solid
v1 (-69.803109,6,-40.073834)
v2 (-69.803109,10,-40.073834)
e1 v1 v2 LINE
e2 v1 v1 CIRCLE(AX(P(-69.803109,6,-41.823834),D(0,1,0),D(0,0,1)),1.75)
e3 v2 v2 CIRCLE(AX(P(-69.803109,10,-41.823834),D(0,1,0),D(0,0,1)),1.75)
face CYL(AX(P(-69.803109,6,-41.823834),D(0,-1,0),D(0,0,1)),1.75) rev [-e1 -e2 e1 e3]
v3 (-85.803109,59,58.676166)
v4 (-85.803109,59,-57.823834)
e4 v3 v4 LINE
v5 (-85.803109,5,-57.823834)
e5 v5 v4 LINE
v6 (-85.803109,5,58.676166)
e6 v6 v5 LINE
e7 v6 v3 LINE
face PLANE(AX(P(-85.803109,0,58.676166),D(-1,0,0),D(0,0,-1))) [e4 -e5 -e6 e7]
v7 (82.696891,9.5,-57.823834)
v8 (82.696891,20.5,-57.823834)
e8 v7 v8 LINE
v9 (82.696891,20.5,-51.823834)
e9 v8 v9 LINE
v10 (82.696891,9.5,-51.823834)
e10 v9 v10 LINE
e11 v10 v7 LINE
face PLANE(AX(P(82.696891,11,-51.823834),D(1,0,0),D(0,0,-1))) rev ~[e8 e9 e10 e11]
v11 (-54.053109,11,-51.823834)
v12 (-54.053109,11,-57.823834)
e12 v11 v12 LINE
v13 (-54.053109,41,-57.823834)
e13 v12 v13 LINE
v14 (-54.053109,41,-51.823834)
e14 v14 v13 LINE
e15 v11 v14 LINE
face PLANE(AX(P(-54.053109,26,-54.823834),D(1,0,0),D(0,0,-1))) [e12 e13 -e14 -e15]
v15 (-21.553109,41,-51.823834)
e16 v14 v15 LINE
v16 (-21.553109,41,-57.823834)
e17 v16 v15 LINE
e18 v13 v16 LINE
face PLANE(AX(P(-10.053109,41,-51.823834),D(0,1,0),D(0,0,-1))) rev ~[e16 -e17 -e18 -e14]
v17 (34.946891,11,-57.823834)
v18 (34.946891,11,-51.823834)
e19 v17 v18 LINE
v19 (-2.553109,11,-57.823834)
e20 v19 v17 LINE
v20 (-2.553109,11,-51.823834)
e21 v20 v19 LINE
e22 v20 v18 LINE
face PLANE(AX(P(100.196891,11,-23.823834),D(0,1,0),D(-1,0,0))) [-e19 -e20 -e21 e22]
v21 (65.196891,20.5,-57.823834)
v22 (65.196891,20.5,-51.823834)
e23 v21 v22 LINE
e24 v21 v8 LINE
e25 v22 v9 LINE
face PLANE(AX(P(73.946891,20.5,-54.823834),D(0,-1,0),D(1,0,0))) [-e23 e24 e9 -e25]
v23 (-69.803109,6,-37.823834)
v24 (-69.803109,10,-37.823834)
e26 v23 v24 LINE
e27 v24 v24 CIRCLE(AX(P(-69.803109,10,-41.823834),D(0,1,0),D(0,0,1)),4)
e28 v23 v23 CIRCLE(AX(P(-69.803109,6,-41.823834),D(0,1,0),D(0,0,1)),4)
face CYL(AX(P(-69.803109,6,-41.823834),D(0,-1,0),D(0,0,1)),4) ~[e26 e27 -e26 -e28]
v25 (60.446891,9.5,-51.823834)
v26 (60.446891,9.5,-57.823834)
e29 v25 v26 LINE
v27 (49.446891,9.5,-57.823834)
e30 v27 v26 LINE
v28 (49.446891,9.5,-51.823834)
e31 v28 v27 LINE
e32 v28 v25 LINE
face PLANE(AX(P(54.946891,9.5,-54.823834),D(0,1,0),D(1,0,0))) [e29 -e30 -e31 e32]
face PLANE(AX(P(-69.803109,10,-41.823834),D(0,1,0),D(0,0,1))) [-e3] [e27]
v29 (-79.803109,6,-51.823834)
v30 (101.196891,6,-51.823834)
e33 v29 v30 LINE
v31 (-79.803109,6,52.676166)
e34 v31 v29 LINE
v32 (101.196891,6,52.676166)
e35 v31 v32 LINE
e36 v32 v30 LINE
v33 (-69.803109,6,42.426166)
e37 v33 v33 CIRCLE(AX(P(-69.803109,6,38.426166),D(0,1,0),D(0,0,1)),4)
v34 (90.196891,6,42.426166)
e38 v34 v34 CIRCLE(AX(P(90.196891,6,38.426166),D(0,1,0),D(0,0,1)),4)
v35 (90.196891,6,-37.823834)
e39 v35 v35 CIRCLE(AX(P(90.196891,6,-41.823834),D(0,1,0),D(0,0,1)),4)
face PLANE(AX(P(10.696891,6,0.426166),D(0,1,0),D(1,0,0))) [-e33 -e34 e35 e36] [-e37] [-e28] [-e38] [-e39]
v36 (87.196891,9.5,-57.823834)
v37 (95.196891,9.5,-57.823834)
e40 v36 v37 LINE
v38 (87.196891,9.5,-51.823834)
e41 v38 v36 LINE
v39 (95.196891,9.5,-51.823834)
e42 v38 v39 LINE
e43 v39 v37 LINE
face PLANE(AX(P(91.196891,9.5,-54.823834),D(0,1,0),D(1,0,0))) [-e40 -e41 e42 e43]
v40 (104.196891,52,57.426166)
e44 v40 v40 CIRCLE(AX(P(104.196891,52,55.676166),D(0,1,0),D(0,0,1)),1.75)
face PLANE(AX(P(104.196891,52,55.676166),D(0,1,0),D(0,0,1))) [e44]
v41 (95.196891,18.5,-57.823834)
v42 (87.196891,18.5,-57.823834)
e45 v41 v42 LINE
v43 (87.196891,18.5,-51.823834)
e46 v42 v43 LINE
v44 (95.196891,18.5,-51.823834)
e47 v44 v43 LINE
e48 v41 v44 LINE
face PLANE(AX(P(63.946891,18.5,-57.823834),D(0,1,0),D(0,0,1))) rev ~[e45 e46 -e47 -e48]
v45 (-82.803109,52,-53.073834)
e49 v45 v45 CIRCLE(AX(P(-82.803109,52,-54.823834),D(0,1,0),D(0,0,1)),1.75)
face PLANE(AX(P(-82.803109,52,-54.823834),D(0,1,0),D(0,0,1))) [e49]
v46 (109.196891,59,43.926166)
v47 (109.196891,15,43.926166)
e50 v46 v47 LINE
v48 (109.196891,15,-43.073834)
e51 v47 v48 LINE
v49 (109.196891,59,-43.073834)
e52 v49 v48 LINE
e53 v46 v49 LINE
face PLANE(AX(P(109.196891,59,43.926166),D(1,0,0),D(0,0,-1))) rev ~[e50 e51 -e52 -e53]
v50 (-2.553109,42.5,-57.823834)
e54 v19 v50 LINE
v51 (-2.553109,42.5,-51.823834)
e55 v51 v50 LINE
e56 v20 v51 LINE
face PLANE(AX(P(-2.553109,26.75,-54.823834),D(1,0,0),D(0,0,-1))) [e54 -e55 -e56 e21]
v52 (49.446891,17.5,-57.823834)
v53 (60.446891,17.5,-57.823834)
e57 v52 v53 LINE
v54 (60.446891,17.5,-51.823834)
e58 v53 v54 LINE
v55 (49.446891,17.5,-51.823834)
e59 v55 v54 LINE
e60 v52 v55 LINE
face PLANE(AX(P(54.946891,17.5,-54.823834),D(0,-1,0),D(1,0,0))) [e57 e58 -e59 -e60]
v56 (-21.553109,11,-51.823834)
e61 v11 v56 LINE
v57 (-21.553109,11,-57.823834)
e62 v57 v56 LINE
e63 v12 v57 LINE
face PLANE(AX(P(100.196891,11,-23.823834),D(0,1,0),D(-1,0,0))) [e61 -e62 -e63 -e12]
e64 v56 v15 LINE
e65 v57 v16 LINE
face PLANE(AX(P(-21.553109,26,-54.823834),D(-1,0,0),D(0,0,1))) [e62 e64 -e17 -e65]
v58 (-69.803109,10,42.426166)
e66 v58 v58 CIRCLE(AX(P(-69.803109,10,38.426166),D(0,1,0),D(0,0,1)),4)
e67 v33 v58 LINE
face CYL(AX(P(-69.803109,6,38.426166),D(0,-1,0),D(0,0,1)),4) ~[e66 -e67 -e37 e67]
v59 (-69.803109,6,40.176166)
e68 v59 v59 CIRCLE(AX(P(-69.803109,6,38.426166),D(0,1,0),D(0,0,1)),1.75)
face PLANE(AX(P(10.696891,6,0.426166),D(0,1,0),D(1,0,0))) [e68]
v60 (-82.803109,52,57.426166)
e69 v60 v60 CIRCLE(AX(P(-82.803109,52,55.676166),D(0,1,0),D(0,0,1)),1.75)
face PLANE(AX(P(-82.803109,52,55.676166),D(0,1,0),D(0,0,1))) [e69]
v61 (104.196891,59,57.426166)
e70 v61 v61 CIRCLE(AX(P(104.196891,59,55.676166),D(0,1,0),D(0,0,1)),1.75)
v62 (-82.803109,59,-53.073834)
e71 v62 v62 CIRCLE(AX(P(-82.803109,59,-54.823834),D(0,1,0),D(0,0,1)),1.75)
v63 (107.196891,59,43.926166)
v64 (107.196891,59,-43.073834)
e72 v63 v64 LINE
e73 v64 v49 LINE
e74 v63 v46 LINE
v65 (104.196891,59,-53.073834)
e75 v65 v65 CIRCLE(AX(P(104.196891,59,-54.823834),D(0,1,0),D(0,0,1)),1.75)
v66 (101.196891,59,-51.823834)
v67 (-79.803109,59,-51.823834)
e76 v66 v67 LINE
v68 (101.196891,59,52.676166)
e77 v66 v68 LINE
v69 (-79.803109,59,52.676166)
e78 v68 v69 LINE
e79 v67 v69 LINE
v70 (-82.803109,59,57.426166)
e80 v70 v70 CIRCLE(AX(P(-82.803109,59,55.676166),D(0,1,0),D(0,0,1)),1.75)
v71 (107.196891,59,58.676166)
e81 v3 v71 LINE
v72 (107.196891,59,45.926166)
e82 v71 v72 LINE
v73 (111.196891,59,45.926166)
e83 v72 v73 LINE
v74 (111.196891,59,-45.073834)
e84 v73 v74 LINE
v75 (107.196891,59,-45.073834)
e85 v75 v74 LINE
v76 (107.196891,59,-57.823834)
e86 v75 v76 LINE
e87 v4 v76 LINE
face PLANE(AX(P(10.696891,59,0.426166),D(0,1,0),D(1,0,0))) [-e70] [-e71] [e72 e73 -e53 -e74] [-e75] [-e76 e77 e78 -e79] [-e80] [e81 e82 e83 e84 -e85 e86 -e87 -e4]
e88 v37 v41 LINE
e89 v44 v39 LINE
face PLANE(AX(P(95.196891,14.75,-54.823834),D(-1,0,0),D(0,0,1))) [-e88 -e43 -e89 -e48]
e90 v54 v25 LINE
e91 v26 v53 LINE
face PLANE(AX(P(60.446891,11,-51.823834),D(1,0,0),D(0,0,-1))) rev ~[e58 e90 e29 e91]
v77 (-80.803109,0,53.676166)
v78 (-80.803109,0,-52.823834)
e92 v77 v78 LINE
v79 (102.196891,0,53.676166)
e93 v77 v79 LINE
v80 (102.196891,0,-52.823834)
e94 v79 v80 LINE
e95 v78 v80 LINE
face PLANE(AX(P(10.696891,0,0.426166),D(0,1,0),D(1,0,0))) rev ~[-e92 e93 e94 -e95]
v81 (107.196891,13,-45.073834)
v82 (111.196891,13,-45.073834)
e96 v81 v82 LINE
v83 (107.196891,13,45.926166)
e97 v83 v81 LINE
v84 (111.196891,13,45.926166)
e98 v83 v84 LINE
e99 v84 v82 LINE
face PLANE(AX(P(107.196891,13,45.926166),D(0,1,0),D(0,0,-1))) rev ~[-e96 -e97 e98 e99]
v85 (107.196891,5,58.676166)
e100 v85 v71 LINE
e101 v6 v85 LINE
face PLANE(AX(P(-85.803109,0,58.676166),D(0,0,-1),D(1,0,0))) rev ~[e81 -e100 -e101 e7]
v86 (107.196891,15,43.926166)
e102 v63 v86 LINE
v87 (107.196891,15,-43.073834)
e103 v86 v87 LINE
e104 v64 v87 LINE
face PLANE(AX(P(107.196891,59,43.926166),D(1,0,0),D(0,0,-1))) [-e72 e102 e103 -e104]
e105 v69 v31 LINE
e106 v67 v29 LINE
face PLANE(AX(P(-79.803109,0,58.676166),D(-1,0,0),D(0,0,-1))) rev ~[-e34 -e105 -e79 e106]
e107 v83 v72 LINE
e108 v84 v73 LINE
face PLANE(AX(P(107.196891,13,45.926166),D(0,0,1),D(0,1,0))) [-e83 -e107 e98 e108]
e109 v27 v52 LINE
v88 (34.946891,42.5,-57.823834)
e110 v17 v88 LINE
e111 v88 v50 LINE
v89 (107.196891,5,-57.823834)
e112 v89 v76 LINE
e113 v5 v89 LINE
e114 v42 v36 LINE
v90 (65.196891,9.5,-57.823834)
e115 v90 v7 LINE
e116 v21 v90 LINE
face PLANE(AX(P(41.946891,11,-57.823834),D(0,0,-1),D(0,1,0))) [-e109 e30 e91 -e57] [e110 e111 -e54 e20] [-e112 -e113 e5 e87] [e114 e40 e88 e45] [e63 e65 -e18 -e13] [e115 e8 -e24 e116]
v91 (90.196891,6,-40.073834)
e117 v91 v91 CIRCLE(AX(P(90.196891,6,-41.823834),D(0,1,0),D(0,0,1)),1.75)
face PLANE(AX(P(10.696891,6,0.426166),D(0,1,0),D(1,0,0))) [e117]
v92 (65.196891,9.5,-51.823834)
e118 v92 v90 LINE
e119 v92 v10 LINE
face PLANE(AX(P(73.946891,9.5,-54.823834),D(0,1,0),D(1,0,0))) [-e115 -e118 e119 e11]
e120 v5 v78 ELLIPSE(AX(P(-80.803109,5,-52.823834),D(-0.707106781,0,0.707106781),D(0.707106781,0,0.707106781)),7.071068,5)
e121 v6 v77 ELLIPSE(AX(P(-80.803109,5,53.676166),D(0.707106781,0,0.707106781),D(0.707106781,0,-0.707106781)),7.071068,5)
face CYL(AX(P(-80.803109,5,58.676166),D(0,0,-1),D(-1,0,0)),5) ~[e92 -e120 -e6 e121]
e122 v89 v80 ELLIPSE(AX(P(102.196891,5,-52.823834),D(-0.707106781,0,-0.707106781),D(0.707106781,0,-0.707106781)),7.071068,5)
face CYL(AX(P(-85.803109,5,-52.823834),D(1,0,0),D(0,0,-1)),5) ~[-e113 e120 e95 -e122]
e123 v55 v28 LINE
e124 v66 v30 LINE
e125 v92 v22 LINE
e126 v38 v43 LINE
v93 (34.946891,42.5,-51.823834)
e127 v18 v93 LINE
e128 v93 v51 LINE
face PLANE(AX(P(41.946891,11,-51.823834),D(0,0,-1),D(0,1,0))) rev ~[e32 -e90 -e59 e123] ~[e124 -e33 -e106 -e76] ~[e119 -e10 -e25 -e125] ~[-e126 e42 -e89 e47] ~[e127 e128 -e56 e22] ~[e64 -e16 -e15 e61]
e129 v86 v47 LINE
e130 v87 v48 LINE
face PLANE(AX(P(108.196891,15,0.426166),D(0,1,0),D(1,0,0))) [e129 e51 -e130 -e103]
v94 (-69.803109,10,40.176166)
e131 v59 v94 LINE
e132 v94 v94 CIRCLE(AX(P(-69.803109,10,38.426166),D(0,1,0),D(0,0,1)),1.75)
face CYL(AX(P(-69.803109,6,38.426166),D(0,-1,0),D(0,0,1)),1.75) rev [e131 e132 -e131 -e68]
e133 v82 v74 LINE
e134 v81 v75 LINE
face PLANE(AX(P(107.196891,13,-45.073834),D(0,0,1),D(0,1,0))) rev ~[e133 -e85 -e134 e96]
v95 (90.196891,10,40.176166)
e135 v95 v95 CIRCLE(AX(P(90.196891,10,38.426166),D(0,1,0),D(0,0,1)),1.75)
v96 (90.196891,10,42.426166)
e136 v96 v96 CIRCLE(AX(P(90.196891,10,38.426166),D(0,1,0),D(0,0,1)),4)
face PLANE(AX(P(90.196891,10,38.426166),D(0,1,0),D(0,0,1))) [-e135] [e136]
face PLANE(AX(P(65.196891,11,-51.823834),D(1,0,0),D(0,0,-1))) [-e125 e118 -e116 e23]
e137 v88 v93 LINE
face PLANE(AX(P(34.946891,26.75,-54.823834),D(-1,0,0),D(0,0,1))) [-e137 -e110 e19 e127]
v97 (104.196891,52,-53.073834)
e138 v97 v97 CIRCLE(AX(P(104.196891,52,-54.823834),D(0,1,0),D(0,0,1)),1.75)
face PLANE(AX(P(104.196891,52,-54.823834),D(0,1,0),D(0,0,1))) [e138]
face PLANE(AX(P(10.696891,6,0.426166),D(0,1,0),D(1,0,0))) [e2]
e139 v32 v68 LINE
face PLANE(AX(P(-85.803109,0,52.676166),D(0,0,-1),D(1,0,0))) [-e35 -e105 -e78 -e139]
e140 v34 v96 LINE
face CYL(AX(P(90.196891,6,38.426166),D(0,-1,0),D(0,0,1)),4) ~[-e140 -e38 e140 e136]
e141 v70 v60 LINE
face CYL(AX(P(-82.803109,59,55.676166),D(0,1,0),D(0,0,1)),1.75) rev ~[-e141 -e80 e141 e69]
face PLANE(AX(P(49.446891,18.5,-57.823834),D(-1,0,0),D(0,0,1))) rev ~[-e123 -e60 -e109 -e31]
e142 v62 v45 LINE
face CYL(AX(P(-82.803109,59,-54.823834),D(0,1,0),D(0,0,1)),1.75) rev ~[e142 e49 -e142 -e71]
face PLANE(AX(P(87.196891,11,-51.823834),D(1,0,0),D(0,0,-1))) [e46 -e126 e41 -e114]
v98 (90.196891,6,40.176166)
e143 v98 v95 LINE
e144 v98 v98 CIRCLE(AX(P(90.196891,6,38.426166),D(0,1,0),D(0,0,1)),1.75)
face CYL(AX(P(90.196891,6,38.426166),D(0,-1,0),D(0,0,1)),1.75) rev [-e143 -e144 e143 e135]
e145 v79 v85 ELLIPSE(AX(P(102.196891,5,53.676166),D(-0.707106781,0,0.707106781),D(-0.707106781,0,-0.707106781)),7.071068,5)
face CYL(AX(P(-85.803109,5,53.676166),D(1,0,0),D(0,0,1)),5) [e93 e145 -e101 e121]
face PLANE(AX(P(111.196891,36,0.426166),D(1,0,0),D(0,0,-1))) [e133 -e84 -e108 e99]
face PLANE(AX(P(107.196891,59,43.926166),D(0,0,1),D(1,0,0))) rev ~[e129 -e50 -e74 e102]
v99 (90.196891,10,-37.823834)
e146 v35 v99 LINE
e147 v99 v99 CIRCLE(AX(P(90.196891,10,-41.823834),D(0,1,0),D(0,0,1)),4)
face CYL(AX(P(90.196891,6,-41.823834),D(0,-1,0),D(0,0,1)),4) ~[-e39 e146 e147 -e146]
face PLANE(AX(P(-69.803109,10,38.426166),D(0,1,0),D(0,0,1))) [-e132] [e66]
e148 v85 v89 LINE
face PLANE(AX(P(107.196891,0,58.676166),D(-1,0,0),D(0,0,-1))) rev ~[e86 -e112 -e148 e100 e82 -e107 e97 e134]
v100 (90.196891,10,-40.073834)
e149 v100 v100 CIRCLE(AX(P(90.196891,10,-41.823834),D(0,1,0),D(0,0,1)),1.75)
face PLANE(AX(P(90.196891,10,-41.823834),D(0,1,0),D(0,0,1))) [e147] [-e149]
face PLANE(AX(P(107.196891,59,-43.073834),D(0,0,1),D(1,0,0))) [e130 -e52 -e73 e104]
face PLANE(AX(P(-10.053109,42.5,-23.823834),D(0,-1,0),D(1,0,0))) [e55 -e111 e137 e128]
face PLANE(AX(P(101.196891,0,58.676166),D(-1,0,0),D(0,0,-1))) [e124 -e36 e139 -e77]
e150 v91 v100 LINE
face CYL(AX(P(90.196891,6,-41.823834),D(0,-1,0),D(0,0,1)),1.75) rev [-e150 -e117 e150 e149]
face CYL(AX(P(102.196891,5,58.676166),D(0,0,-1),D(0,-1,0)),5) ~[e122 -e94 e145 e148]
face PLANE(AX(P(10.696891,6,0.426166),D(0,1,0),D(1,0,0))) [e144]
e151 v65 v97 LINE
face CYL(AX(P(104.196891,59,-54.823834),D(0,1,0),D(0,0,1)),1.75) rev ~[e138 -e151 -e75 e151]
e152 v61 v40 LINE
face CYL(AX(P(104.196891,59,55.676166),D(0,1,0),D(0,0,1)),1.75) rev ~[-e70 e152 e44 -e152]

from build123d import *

# Parameters (mm, degrees)
SKETCH1_W               = 193
SKETCH1_H               = 116.5
BOSS_EXTRUDE5_DEPTH     = 59
SHELL4_T                = -6
SKETCH6_R               = 4
SKETCH6_R_2             = 1.75
BOSS_EXTRUDE6_DEPTH     = 4
CUT_EXTRUDE1_DEPTH      = 38
CUT_EXTRUDE1_DEPTH_BACK = 34
SKETCH9_R               = 1.75
CUT_EXTRUDE2_DEPTH      = 7
FILLET2_R               = 5
SKETCH12_W              = 6
SKETCH12_H              = 6.5
BOSS_EXTRUDE7_DEPTH     = 18
SKETCH15_W              = 6
SKETCH15_H              = 7.5
BOSS_EXTRUDE8_DEPTH     = 5
SKETCH16_W              = 7.5
SKETCH16_H              = 6
SKETCH16_W_2            = 6.75
SKETCH16_W_3            = 3.5
BOSS_EXTRUDE9_DEPTH     = 7.5
SKETCH17_W              = 6
SKETCH17_H              = 31.5
BOSS_EXTRUDE10_DEPTH    = 4
SKETCH18_W              = 6
SKETCH18_H              = 1.5
BOSS_EXTRUDE11_DEPTH    = 1.5
SKETCH19_W              = 2
SKETCH19_H              = 6
BOSS_EXTRUDE12_DEPTH    = 30
SKETCH20_W              = 9
SKETCH20_H              = 2.5
BOSS_EXTRUDE13_DEPTH    = 6
SKETCH21_W              = 6
SKETCH21_H              = 7.5
CUT_EXTRUDE3_DEPTH      = 3
SKETCH22_W              = 17.5
SKETCH22_H              = 6
CUT_EXTRUDE4_DEPTH      = 2
SKETCH23_W              = 6
SKETCH23_H              = 5
CUT_EXTRUDE5_DEPTH      = 2
SKETCH24_W              = 11
SKETCH24_H              = 6
CUT_EXTRUDE6_DEPTH      = 1.5
SKETCH25_W              = 11
SKETCH25_H              = 6
CUT_EXTRUDE7_DEPTH      = 1.5
SKETCH27_W              = 17.5
SKETCH27_H              = 6
CUT_EXTRUDE8_DEPTH      = 1.5
SKETCH32_W              = 91
SKETCH32_H              = 46
BOSS_EXTRUDE15_DEPTH    = 4
SKETCH33_W              = 2
SKETCH33_H              = 87
CUT_EXTRUDE10_DEPTH     = 44
SKETCH34_W              = 8
SKETCH34_H              = 6
CUT_EXTRUDE11_DEPTH     = 1.5
SKETCH35_W              = 6
SKETCH35_H              = 30
BOSS_EXTRUDE16_DEPTH    = 11
SKETCH36_W              = 6
SKETCH36_H              = 30
BOSS_EXTRUDE17_DEPTH    = 7
SKETCH37_W              = 6
SKETCH37_H              = 31.5
BOSS_EXTRUDE18_DEPTH    = 6
SKETCH38_W              = 6
SKETCH38_H              = 31.5
BOSS_EXTRUDE19_DEPTH    = 7


with BuildPart() as part:
    # Sketch1 → Boss-Extrude5 (new body)
    with BuildSketch(Plane(origin=(0, 0, 0), x_dir=(1, 0, 0), z_dir=(0, 1, 0))):
        with Locations((10.696891192, -0.426165803)):
            Rectangle(SKETCH1_W, SKETCH1_H)
    extrude(amount=BOSS_EXTRUDE5_DEPTH)

    # Shell4
    shell4_openings = [part.faces().sort_by_distance(p)[0] for p in [
        (10.696891192, 59, 0.426165803),
    ]]
    offset(amount=SHELL4_T, openings=shell4_openings, kind=Kind.INTERSECTION)

    # Sketch6 → Boss-Extrude6 (add)
    # profile 1 of 4: a face of its own
    with BuildSketch(Plane(origin=(0, 6, 0), x_dir=(1, 0, 0), z_dir=(0, 1, 0))):
        with Locations(Location((-69.803108808, 41.823834197, 0), (0, 0, 270))):
            Circle(SKETCH6_R)
        with Locations(Location((-69.803108808, 41.823834197, 0), (0, 0, 270))):
            Circle(SKETCH6_R_2, mode=Mode.SUBTRACT)
    # profile 2 of 4: a face of its own
    with BuildSketch(Plane(origin=(0, 6, 0), x_dir=(1, 0, 0), z_dir=(0, 1, 0))):
        with Locations(Location((90.196891192, 41.823834197, 0), (0, 0, 270))):
            Circle(SKETCH6_R)
        with Locations(Location((90.196891192, 41.823834197, 0), (0, 0, 270))):
            Circle(SKETCH6_R_2, mode=Mode.SUBTRACT)
    # profile 3 of 4: a face of its own
    with BuildSketch(Plane(origin=(0, 6, 0), x_dir=(1, 0, 0), z_dir=(0, 1, 0))):
        with Locations(Location((90.196891192, -38.426165803, 0), (0, 0, 270))):
            Circle(SKETCH6_R)
        with Locations(Location((90.196891192, -38.426165803, 0), (0, 0, 270))):
            Circle(SKETCH6_R_2, mode=Mode.SUBTRACT)
    # profile 4 of 4: a face of its own
    with BuildSketch(Plane(origin=(0, 6, 0), x_dir=(1, 0, 0), z_dir=(0, 1, 0))):
        with Locations(Location((-69.803108808, -38.426165803, 0), (0, 0, 270))):
            Circle(SKETCH6_R)
        with Locations(Location((-69.803108808, -38.426165803, 0), (0, 0, 270))):
            Circle(SKETCH6_R_2, mode=Mode.SUBTRACT)
    extrude(amount=BOSS_EXTRUDE6_DEPTH)

    # Sketch8 → Cut-Extrude1 (cut, two sides: drawn at the far end of the back side and taken through both)
    with BuildSketch(Plane(origin=(0, 0, -57.823834197), x_dir=(-1, 0, 0), z_dir=(0, 0, -1)).offset(-CUT_EXTRUDE1_DEPTH_BACK)):
        Polygon((-85.946891192, 18.5), (-100.196891192, 18.5), (-100.196891192, 11), (-85.946891192, 11), (-63.946891192, 11), (-45.946891192, 11), (10.053108808, 11), (61.053108808, 11), (61.053108808, 41), (10.053108808, 41), (10.053108808, 42.5), (-45.946891192, 42.5), (-45.946891192, 25), (-63.946891192, 25), (-63.946891192, 18.5), align=None)
    extrude(amount=CUT_EXTRUDE1_DEPTH + CUT_EXTRUDE1_DEPTH_BACK, mode=Mode.SUBTRACT)

    # Sketch9 → Cut-Extrude2 (cut)
    with BuildSketch(Plane(origin=(0, 59, 0), x_dir=(1, 0, 0), z_dir=(0, 1, 0))):
        with Locations(Location((-82.803108808, 54.823834197, 0), (0, 0, 270))):
            Circle(SKETCH9_R)
        with Locations(Location((104.196891192, 54.823834197, 0), (0, 0, 270))):
            Circle(SKETCH9_R)
        with Locations(Location((-82.803108808, -55.676165803, 0), (0, 0, 270))):
            Circle(SKETCH9_R)
        with Locations(Location((104.196891192, -55.676165803, 0), (0, 0, 270))):
            Circle(SKETCH9_R)
    extrude(amount=-CUT_EXTRUDE2_DEPTH, mode=Mode.SUBTRACT)

    # Fillet2
    fillet2_edges = [part.edges().sort_by_distance(p)[0] for p in [
        (10.696891192, 0, -57.823834197),
        (107.196891192, 0, 0.426165803),
        (10.696891192, 0, 58.676165803),
        (-85.803108808, 0, 0.426165803),
    ]]
    fillet(fillet2_edges, radius=FILLET2_R)

    # Sketch12 → Boss-Extrude7 (add)
    with BuildSketch(Plane.ZY.offset(-63.946891192)):
        with Locations((-54.823834197, 21.75)):
            Rectangle(SKETCH12_W, SKETCH12_H)
    extrude(amount=BOSS_EXTRUDE7_DEPTH)

    # Sketch15 → Boss-Extrude8 (add)
    with BuildSketch(Plane.ZY.offset(-100.196891192)):
        with Locations((-54.823834197, 14.75)):
            Rectangle(SKETCH15_W, SKETCH15_H)
    extrude(amount=BOSS_EXTRUDE8_DEPTH)

    # Sketch16 → Boss-Extrude9 (add)
    with BuildSketch(Plane.XZ.offset(-18.5)):
        with Locations((83.446891192, -54.823834197)):
            Rectangle(SKETCH16_W, SKETCH16_H)
        with Locations((61.821891192, -54.823834197)):
            Rectangle(SKETCH16_W_2, SKETCH16_H)
        with Locations((47.696891192, -54.823834197)):
            Rectangle(SKETCH16_W_3, SKETCH16_H)
    extrude(amount=BOSS_EXTRUDE9_DEPTH)

    # Sketch17 → Boss-Extrude10 (add)
    with BuildSketch(Plane.ZY.offset(-45.946891192)):
        with Locations((-54.823834197, 26.75)):
            Rectangle(SKETCH17_W, SKETCH17_H)
    extrude(amount=BOSS_EXTRUDE10_DEPTH)

    # Sketch18 → Boss-Extrude11 (add)
    with BuildSketch(Plane(origin=(-10.053108808, 0, 0), x_dir=(0, 0, -1), z_dir=(1, 0, 0))):
        with Locations((54.823834197, 41.75)):
            Rectangle(SKETCH18_W, SKETCH18_H)
    extrude(amount=BOSS_EXTRUDE11_DEPTH)

    # Sketch19 → Boss-Extrude12 (add)
    with BuildSketch(Plane.XZ.offset(-41)):
        with Locations((-9.553108808, -54.823834197)):
            Rectangle(SKETCH19_W, SKETCH19_H)
    extrude(amount=BOSS_EXTRUDE12_DEPTH)

    # Sketch20 → Boss-Extrude13 (add)
    with BuildSketch(Plane(origin=(0, 0, -57.823834197), x_dir=(-1, 0, 0), z_dir=(0, 0, -1))):
        with Locations((-53.946891192, 17.25)):
            Rectangle(SKETCH20_W, SKETCH20_H)
    extrude(amount=-BOSS_EXTRUDE13_DEPTH)

    # Sketch21 → Cut-Extrude3 (cut)
    with BuildSketch(Plane.ZY.offset(-79.696891192)):
        with Locations((-54.823834197, 14.75)):
            Rectangle(SKETCH21_W, SKETCH21_H)
    extrude(amount=-CUT_EXTRUDE3_DEPTH, mode=Mode.SUBTRACT)

    # Sketch22 → Cut-Extrude4 (cut)
    with BuildSketch(Plane.XZ.offset(-18.5)):
        with Locations((73.946891192, -54.823834197)):
            Rectangle(SKETCH22_W, SKETCH22_H)
    extrude(amount=-CUT_EXTRUDE4_DEPTH, mode=Mode.SUBTRACT)

    # Sketch23 → Cut-Extrude5 (cut)
    with BuildSketch(Plane.ZY.offset(-58.446891192)):
        with Locations((-54.823834197, 13.5)):
            Rectangle(SKETCH23_W, SKETCH23_H)
    extrude(amount=-CUT_EXTRUDE5_DEPTH, mode=Mode.SUBTRACT)

    # Sketch24 → Cut-Extrude6 (cut)
    with BuildSketch(Plane.XZ.offset(-16)):
        with Locations((54.946891192, -54.823834197)):
            Rectangle(SKETCH24_W, SKETCH24_H)
    extrude(amount=-CUT_EXTRUDE6_DEPTH, mode=Mode.SUBTRACT)

    # Sketch25 → Cut-Extrude7 (cut)
    with BuildSketch(Plane(origin=(0, 11, 0), x_dir=(1, 0, 0), z_dir=(0, 1, 0))):
        with Locations((54.946891192, 54.823834197)):
            Rectangle(SKETCH25_W, SKETCH25_H)
    extrude(amount=-CUT_EXTRUDE7_DEPTH, mode=Mode.SUBTRACT)

    # Sketch27 → Cut-Extrude8 (cut)
    with BuildSketch(Plane(origin=(0, 11, 0), x_dir=(1, 0, 0), z_dir=(0, 1, 0))):
        with Locations((73.946891192, 54.823834197)):
            Rectangle(SKETCH27_W, SKETCH27_H)
    extrude(amount=-CUT_EXTRUDE8_DEPTH, mode=Mode.SUBTRACT)

    # Sketch32 → Boss-Extrude15 (add)
    with BuildSketch(Plane(origin=(107.196891192, 0, 0), x_dir=(0, 0, -1), z_dir=(1, 0, 0))):
        with Locations((-0.426165803, 36)):
            Rectangle(SKETCH32_W, SKETCH32_H)
    extrude(amount=BOSS_EXTRUDE15_DEPTH)

    # Sketch33 → Cut-Extrude10 (cut)
    with BuildSketch(Plane(origin=(0, 59, 0), x_dir=(1, 0, 0), z_dir=(0, 1, 0))):
        with Locations((108.196891192, -0.426165803)):
            Rectangle(SKETCH33_W, SKETCH33_H)
    extrude(amount=-CUT_EXTRUDE10_DEPTH, mode=Mode.SUBTRACT)

    # Sketch34 → Cut-Extrude11 (cut)
    with BuildSketch(Plane(origin=(0, 11, 0), x_dir=(1, 0, 0), z_dir=(0, 1, 0))):
        with Locations((91.196891192, 54.823834197)):
            Rectangle(SKETCH34_W, SKETCH34_H)
    extrude(amount=-CUT_EXTRUDE11_DEPTH, mode=Mode.SUBTRACT)

    # Sketch35 → Boss-Extrude16 (add)
    with BuildSketch(Plane.ZY.offset(10.553108808)):
        with Locations((-54.823834197, 26)):
            Rectangle(SKETCH35_W, SKETCH35_H)
    extrude(amount=BOSS_EXTRUDE16_DEPTH)

    # Sketch36 → Boss-Extrude17 (add)
    with BuildSketch(Plane(origin=(-61.053108808, 0, 0), x_dir=(0, 0, -1), z_dir=(1, 0, 0))):
        with Locations((54.823834197, 26)):
            Rectangle(SKETCH36_W, SKETCH36_H)
    extrude(amount=BOSS_EXTRUDE17_DEPTH)

    # Sketch37 → Boss-Extrude18 (add)
    with BuildSketch(Plane(origin=(-8.553108808, 0, 0), x_dir=(0, 0, -1), z_dir=(1, 0, 0))):
        with Locations((54.823834197, 26.75)):
            Rectangle(SKETCH37_W, SKETCH37_H)
    extrude(amount=BOSS_EXTRUDE18_DEPTH)

    # Sketch38 → Boss-Extrude19 (add)
    with BuildSketch(Plane.ZY.offset(-41.946891192)):
        with Locations((-54.823834197, 26.75)):
            Rectangle(SKETCH38_W, SKETCH38_H)
    extrude(amount=BOSS_EXTRUDE19_DEPTH)


solid = part.part
